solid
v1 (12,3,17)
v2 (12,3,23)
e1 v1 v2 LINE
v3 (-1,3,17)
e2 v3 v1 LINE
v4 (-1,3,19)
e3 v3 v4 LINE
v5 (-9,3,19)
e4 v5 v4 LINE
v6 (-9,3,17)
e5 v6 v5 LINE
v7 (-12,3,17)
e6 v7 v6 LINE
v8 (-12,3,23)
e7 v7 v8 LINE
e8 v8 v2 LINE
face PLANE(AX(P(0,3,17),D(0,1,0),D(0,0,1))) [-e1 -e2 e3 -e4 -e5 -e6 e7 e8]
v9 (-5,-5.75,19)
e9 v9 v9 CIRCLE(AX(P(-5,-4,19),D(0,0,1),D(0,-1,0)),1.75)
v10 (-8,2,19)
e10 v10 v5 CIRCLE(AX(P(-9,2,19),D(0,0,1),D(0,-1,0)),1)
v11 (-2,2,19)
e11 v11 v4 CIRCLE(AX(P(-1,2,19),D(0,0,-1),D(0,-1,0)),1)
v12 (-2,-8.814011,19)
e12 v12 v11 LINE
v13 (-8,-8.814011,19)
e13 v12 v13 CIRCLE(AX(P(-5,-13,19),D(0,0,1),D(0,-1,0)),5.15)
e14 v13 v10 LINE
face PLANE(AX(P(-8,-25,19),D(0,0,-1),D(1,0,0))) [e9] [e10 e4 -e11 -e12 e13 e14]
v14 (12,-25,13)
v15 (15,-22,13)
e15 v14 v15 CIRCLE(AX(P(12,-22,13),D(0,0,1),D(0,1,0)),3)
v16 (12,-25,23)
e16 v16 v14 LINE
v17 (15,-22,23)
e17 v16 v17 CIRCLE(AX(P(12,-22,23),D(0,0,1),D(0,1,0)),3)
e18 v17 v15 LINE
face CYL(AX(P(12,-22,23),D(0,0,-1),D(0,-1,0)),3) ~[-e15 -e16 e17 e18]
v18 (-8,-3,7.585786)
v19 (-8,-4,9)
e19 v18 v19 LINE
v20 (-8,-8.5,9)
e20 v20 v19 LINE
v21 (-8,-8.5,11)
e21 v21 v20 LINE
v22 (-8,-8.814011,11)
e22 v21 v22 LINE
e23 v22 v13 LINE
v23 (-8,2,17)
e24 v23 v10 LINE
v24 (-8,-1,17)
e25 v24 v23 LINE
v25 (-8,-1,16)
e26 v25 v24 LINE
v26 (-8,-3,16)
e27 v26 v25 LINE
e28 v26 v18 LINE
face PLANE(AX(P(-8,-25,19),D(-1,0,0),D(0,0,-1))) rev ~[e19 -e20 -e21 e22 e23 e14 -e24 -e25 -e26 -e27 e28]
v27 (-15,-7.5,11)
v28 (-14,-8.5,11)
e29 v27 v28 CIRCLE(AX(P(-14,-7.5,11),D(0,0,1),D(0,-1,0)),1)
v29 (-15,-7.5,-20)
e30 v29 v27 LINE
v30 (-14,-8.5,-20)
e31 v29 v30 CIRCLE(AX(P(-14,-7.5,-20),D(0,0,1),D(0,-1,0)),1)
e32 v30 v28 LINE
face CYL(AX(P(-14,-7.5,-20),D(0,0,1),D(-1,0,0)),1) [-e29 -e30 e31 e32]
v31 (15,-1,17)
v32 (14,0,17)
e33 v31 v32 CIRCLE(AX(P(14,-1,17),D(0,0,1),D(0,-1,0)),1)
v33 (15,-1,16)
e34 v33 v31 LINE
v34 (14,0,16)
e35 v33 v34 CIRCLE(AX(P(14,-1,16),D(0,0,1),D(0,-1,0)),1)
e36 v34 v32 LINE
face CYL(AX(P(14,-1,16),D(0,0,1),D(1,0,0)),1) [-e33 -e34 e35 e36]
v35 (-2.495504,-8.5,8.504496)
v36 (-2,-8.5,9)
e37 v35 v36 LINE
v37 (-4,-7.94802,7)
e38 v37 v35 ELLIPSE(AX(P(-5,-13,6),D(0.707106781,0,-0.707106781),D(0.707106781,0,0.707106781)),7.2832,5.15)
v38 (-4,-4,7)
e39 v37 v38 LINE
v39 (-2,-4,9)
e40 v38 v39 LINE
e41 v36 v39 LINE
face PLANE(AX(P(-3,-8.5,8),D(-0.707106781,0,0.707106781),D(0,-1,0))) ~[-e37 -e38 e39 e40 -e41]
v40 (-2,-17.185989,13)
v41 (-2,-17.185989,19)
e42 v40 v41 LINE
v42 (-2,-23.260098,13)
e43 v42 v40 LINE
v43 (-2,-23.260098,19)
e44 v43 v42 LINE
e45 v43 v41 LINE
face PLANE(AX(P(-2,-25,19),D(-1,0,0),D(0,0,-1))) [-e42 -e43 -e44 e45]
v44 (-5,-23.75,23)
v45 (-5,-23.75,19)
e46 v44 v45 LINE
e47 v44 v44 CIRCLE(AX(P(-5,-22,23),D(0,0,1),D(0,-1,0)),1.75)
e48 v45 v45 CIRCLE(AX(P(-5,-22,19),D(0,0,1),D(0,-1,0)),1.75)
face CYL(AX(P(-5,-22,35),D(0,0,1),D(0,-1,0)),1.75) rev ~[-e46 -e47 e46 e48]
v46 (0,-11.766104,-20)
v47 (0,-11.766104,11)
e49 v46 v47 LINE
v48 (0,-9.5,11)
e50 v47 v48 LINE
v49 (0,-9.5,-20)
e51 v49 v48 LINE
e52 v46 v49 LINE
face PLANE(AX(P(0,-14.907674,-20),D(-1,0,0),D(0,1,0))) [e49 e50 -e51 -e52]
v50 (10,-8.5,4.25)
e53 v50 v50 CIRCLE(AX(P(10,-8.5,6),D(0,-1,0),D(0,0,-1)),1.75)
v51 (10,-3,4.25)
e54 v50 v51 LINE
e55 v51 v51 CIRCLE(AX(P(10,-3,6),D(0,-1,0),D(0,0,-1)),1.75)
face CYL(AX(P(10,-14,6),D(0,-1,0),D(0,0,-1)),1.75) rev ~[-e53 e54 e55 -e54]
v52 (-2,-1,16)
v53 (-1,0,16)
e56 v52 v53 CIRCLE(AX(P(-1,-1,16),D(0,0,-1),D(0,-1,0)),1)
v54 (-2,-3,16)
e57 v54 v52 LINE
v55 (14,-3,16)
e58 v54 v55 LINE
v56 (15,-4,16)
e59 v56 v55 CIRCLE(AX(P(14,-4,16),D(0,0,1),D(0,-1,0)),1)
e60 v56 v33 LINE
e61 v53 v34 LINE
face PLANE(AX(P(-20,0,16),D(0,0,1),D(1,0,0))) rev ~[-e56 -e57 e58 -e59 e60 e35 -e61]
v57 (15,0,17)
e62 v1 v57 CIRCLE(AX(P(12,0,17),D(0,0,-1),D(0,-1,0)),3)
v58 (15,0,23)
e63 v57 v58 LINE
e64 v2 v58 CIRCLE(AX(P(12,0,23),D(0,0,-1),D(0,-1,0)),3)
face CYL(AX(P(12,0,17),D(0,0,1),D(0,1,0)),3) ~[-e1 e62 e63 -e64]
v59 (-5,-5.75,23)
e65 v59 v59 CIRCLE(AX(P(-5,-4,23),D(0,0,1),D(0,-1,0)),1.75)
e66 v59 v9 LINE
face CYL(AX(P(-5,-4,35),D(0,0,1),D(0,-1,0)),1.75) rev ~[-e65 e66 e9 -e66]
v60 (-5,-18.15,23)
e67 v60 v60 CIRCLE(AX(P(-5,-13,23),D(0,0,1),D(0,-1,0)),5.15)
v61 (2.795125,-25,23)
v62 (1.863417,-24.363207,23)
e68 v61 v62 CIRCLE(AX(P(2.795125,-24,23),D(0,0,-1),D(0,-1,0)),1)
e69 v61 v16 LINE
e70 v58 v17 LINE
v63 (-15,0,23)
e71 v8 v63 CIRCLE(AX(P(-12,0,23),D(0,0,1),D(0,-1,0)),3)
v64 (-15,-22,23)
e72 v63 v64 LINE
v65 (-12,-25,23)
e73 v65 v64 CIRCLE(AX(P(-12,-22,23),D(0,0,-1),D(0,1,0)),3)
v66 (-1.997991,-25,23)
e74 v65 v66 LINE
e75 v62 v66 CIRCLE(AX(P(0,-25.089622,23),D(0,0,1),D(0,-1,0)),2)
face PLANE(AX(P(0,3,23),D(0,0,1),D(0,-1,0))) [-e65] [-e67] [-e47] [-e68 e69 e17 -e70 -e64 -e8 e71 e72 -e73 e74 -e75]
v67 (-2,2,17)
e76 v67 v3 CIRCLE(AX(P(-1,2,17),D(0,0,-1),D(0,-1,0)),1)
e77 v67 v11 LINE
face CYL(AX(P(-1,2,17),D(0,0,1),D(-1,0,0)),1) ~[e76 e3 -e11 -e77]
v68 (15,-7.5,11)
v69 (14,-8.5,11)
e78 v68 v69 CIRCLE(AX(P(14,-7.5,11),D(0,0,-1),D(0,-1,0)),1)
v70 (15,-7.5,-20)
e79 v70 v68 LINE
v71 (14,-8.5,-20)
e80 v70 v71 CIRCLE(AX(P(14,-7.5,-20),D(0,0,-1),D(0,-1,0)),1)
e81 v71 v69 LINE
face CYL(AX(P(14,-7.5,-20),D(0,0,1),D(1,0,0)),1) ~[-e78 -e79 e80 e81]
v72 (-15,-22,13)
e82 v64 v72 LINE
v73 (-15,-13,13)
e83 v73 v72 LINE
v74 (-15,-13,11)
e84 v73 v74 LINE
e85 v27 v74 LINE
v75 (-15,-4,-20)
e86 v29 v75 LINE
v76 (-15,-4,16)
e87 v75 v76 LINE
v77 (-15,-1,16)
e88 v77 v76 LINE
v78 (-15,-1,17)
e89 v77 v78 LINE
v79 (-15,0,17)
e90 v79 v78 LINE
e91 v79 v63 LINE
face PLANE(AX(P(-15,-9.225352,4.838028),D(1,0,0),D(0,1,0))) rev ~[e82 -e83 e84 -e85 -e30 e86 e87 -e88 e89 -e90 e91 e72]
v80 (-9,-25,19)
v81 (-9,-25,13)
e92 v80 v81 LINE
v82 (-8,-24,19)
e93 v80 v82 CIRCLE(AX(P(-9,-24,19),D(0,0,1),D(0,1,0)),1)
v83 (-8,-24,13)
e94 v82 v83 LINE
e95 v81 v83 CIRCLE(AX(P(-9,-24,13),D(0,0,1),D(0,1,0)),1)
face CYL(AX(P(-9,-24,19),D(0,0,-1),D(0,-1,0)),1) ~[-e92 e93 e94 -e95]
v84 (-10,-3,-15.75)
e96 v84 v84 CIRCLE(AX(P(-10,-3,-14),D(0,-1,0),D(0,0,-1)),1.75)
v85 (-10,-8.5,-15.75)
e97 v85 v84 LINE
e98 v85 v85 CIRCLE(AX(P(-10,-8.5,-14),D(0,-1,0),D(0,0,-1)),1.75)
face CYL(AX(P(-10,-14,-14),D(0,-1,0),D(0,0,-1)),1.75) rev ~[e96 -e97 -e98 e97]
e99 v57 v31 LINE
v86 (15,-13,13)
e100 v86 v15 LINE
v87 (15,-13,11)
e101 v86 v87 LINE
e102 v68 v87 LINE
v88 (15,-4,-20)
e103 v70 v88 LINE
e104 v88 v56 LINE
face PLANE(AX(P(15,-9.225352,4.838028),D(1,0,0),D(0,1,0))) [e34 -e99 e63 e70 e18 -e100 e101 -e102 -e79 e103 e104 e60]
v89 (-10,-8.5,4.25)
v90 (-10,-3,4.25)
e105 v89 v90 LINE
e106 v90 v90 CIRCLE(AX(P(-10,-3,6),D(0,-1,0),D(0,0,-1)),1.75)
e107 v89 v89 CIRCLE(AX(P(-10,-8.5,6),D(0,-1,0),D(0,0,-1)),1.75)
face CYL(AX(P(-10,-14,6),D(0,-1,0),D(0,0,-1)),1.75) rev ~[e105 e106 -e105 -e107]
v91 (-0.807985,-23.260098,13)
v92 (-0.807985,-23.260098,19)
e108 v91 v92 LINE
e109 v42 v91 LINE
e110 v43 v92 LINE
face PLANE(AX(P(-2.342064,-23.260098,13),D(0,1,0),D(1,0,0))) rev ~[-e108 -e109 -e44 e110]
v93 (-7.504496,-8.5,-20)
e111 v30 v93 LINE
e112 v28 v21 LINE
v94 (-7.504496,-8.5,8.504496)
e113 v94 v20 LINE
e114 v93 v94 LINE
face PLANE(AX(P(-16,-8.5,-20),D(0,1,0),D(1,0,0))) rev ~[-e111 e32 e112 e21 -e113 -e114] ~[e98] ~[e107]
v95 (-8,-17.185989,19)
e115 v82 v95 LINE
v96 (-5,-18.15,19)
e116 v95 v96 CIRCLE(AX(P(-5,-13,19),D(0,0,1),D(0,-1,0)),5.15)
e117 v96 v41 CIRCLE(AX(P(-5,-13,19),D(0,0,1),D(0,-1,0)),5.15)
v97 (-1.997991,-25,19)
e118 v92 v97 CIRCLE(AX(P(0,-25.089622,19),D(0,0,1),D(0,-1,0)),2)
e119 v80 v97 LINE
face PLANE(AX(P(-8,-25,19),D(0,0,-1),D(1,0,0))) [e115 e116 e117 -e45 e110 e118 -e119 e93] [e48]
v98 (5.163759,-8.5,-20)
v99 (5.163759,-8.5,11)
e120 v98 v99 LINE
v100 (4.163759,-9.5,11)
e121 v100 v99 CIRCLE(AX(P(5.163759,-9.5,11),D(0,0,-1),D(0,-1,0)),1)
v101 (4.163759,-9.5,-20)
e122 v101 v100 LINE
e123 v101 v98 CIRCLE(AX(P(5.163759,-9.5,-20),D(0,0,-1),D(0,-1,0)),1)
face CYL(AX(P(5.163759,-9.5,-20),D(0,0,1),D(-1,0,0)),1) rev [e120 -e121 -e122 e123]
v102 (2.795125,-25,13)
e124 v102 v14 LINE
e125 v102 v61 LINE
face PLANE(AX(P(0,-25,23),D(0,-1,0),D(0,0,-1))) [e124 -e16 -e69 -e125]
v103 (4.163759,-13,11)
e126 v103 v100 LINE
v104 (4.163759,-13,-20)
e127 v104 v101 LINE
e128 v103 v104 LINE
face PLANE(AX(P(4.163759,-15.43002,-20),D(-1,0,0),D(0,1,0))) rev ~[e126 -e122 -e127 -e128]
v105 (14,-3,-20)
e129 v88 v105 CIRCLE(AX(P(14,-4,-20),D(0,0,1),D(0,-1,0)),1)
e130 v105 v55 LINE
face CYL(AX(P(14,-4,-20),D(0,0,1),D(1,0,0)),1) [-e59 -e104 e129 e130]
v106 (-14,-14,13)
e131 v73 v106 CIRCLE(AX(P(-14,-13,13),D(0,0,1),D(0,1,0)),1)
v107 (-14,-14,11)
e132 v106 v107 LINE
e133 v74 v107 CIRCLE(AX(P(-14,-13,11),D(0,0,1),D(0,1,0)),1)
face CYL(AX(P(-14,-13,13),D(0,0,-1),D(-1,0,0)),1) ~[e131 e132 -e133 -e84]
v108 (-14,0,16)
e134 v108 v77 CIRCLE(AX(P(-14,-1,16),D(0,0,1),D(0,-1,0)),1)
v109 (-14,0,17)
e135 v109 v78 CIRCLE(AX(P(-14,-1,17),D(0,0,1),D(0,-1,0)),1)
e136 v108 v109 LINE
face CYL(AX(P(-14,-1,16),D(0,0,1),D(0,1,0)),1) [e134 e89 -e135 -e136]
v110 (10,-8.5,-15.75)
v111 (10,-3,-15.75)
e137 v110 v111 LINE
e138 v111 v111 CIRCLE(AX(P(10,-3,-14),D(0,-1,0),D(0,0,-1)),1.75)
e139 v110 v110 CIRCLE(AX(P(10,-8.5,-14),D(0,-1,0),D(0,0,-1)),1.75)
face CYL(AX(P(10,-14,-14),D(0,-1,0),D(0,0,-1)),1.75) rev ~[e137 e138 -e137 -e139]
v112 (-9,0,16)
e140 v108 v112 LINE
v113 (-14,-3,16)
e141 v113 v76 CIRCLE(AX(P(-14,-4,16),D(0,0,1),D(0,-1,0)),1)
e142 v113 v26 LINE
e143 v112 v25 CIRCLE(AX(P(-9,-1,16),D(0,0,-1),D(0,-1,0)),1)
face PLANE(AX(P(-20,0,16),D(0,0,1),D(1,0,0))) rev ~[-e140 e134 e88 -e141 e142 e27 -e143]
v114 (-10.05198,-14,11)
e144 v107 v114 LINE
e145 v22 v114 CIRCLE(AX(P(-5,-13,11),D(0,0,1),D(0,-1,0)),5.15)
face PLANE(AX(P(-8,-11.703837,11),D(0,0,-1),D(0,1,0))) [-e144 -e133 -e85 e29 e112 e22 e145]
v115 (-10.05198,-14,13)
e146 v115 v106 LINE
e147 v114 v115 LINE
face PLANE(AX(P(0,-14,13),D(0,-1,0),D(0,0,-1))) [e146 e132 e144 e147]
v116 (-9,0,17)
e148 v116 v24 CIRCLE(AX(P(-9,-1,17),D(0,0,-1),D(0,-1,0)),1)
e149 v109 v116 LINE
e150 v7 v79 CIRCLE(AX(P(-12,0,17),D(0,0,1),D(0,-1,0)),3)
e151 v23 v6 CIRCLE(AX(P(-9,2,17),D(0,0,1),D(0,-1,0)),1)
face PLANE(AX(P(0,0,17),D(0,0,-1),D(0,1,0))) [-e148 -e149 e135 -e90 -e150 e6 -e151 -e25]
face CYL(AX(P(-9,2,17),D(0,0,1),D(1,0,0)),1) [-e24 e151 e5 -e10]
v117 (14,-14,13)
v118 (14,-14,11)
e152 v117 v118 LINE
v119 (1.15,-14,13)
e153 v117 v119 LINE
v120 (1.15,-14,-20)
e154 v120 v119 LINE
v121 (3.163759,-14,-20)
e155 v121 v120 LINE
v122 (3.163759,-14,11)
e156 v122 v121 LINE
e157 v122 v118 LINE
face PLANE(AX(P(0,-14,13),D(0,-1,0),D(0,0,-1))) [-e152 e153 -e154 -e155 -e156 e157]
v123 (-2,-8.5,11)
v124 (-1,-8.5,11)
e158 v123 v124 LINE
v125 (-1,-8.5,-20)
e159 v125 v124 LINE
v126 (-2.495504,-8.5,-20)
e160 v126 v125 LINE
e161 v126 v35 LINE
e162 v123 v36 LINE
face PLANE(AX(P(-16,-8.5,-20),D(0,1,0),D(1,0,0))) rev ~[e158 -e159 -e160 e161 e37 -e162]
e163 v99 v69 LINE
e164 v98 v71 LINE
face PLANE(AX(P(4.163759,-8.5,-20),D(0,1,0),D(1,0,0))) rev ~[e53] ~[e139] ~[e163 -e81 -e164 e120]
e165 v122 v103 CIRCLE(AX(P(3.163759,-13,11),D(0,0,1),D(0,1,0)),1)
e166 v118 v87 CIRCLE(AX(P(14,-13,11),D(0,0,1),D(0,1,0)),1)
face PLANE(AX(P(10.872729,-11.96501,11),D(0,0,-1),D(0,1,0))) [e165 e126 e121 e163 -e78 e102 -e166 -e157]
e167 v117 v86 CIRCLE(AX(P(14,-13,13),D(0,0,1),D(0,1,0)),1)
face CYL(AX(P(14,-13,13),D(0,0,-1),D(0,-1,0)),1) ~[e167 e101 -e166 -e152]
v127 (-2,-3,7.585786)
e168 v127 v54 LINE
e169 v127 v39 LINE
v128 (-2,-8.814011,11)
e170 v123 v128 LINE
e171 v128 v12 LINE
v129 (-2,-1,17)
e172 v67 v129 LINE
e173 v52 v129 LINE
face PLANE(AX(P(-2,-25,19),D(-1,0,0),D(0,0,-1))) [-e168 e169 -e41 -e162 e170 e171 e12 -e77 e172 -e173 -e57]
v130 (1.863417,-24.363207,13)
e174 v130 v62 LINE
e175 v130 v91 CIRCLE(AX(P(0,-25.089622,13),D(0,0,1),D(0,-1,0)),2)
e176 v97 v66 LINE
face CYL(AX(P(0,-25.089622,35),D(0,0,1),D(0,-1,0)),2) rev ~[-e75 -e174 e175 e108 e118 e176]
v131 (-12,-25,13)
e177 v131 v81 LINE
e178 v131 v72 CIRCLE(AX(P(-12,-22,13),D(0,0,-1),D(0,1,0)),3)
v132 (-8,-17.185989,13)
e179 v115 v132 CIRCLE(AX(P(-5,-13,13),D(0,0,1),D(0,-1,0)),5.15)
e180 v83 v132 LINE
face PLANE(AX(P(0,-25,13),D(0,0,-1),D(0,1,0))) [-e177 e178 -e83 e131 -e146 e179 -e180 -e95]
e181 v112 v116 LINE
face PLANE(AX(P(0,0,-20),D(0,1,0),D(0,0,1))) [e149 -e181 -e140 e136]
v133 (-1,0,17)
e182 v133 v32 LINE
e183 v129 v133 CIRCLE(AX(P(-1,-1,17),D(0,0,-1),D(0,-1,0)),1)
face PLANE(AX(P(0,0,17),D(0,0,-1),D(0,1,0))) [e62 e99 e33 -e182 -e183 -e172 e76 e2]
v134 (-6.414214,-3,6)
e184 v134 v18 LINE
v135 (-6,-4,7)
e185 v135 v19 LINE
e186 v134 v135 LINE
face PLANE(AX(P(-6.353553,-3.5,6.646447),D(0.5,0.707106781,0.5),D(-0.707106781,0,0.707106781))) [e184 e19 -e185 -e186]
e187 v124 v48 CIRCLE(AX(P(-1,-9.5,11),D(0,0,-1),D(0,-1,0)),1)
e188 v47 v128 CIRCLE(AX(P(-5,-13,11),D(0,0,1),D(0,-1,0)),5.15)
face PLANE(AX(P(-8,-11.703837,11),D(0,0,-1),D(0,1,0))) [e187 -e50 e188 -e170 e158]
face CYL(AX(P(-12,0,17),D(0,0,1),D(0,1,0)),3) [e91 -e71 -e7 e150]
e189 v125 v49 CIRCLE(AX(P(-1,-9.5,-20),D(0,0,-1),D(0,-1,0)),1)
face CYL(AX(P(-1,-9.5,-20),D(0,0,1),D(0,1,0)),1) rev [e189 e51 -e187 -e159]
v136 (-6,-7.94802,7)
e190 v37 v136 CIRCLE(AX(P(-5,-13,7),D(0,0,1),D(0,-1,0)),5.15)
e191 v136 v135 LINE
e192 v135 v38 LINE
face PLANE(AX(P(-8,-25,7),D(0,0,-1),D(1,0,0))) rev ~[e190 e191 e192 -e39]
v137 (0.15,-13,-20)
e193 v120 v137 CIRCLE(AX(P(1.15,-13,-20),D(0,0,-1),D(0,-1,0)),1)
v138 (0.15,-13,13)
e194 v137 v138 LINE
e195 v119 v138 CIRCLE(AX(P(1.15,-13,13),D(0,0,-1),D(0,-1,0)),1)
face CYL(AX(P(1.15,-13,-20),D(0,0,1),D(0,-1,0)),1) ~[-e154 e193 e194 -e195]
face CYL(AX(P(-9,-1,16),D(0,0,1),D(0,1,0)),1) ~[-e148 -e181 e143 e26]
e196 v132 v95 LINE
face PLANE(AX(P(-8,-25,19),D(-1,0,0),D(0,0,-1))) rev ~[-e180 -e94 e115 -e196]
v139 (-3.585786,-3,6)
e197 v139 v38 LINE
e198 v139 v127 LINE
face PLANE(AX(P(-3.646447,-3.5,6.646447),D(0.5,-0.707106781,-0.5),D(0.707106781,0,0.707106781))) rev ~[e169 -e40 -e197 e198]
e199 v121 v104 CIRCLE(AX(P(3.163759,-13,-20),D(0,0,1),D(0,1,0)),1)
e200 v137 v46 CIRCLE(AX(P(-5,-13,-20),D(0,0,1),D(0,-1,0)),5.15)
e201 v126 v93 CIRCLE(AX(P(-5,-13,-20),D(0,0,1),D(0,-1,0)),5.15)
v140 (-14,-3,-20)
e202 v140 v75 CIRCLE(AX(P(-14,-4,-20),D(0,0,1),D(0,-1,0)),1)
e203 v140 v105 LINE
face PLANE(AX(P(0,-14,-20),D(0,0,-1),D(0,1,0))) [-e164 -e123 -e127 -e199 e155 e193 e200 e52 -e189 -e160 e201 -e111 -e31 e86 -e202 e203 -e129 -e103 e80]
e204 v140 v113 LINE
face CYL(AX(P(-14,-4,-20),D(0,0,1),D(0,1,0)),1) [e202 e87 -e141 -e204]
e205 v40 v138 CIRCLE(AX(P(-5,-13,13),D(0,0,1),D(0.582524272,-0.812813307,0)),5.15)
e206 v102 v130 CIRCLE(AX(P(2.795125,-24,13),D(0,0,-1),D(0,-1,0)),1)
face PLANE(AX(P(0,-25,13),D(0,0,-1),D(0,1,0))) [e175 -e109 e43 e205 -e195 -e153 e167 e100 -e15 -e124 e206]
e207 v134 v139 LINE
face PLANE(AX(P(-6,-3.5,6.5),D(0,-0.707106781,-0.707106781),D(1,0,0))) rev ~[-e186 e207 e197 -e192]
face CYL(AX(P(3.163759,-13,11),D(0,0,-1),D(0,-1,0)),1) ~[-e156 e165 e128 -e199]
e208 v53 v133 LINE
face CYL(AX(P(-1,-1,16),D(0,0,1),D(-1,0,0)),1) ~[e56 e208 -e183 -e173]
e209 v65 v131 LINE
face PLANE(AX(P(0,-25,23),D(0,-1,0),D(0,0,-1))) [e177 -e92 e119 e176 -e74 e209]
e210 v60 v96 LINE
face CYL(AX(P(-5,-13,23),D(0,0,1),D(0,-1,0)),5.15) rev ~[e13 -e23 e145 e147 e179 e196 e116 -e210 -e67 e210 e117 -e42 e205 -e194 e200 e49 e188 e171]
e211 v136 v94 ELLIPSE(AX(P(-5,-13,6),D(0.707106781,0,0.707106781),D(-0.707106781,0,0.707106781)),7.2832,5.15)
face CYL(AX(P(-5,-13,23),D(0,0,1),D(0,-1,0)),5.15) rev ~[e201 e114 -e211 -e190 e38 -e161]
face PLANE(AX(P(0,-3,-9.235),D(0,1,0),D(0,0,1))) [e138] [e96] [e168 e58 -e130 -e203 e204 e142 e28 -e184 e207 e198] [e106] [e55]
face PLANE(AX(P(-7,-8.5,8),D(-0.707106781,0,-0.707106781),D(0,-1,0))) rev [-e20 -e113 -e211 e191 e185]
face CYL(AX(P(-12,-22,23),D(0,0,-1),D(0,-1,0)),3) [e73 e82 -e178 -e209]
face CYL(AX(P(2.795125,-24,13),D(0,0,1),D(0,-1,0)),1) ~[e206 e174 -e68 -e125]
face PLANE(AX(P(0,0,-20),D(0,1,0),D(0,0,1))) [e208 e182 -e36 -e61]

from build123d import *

# Parameters (mm, degrees)
PAD001_DEPTH      = 15
PAD001_DEPTH_BACK = 15
SKETCH014_W       = 12
SKETCH014_H       = 6
POCKET_DEPTH      = 28.001
SKETCH013_R       = 1.75
POCKET001_DEPTH   = 21
SKETCH012_R       = 5.15
POCKET002_DEPTH   = 43.001
SKETCH007_R       = 1.75
POCKET003_DEPTH   = 17.001
SKETCH008_W       = 6.407674
SKETCH008_H       = 16
SKETCH008_W_2     = 6.93002
SKETCH008_H_2     = 13.41794
POCKET004_DEPTH   = 31
SKETCH018_R       = 2
POCKET005_DEPTH   = 55.001
SKETCH020_W       = 2.261289
SKETCH020_H       = 2.342064
POCKET006_DEPTH   = 6
SKETCH015_W       = 50.47
SKETCH015_H       = 40
POCKET007_DEPTH   = 3
CHAMFER_SIZE      = 2
CHAMFER001_SIZE   = 2
CHAMFER002_SIZE   = 1
FILLET_R          = 3
FILLET001_R       = 1
FILLET002_R       = 1
FILLET003_R       = 1
FILLET004_R       = 1
FILLET005_R       = 1
FILLET006_R       = 1
FILLET007_R       = 1
FILLET008_R       = 1
FILLET009_R       = 1
FILLET010_R       = 1
FILLET011_R       = 1
FILLET012_R       = 1
FILLET013_R       = 1


with BuildPart() as part:
    # Sketch005 → Pad001 (new body, two sides)
    with BuildSketch(Plane.YZ) as pad001_sk:
        Polygon((0, -20), (0, 17), (3, 17), (3, 23), (-25, 23), (-25, 13), (-14, 13), (-14, -20), align=None)
    extrude(amount=PAD001_DEPTH)
    extrude(pad001_sk.sketch, amount=-PAD001_DEPTH_BACK)

    # Sketch014 (on Face5 of Pad001) → Pocket (cut, through all)
    with BuildSketch(Plane(origin=(0, -25, 0), x_dir=(0, 0, -1), z_dir=(0, -1, 0))):
        with Locations((-13, -5)):
            Rectangle(SKETCH014_W, SKETCH014_H)
    extrude(amount=-POCKET_DEPTH, mode=Mode.SUBTRACT)

    # Sketch013 → Pocket001 (cut)
    with BuildSketch(Plane(origin=(0, 0, 35), x_dir=(0, -1, 0), z_dir=(0, 0, 1))):
        with Locations((4, -5)):
            Circle(SKETCH013_R)
        with Locations((22, -5)):
            Circle(SKETCH013_R)
    extrude(amount=-POCKET001_DEPTH, mode=Mode.SUBTRACT)

    # Sketch012 (on Face4 of Pad001) → Pocket002 (cut, through all)
    with BuildSketch(Plane(origin=(0, 0, 23), x_dir=(0, -1, 0), z_dir=(0, 0, 1))):
        with Locations((13, -5)):
            Circle(SKETCH012_R)
    extrude(amount=-POCKET002_DEPTH, mode=Mode.SUBTRACT)

    # Sketch007 → Pocket003 (cut, through all)
    with BuildSketch(Plane(origin=(0, -14, 0), x_dir=(0, 0, -1), z_dir=(0, -1, 0))):
        with Locations((-6, 10)):
            Circle(SKETCH007_R)
        with Locations((14, 10)):
            Circle(SKETCH007_R)
        with Locations((-6, -10)):
            Circle(SKETCH007_R)
        with Locations((14, -10)):
            Circle(SKETCH007_R)
    extrude(amount=-POCKET003_DEPTH, mode=Mode.SUBTRACT)

    # Sketch008 → Pocket004 (cut)
    with BuildSketch(Plane.YX.offset(20)):
        with Locations((-11.703837, -8)):
            Rectangle(SKETCH008_W, SKETCH008_H)
        with Locations((-11.96501, 10.872729)):
            Rectangle(SKETCH008_W_2, SKETCH008_H_2)
    extrude(amount=-POCKET004_DEPTH, mode=Mode.SUBTRACT)

    # Sketch018 → Pocket005 (cut, through all)
    with BuildSketch(Plane(origin=(0, 0, 35), x_dir=(0, -1, 0), z_dir=(0, 0, 1))):
        with Locations((25.089622, 0)):
            Circle(SKETCH018_R)
    extrude(amount=-POCKET005_DEPTH, mode=Mode.SUBTRACT)

    # Sketch020 (on Face29 of Pocket005) → Pocket006 (cut)
    with BuildSketch(Plane.YX.offset(-13)):
        with Locations((-24.390742, -1.171032)):
            Rectangle(SKETCH020_W, SKETCH020_H)
    extrude(amount=-POCKET006_DEPTH, mode=Mode.SUBTRACT)

    # Sketch015 → Pocket007 (cut)
    with BuildSketch(Plane.ZX):
        with Locations((-9.235, 0)):
            Rectangle(SKETCH015_W, SKETCH015_H)
    extrude(amount=-POCKET007_DEPTH, mode=Mode.SUBTRACT)

    # Chamfer
    chamfer_edges = [part.edges().sort_by_distance(p)[0] for p in [
        (-8, -5.75, 7),
    ]]
    chamfer(chamfer_edges, length=CHAMFER_SIZE)

    # Chamfer001
    chamfer001_edges = [part.edges().sort_by_distance(p)[0] for p in [
        (-2, -5.75, 7),
    ]]
    chamfer(chamfer001_edges, length=CHAMFER001_SIZE)

    # Chamfer002
    chamfer002_edges = [part.edges().sort_by_distance(p)[0] for p in [
        (-3, -3, 8),
        (-5, -3, 7),
        (-7, -3, 8),
    ]]
    chamfer(chamfer002_edges, length=CHAMFER002_SIZE)

    # Fillet
    fillet_edges = [part.edges().sort_by_distance(p)[0] for p in [
        (-15, -25, 18),
        (15, -25, 18),
        (-15, 3, 20),
        (15, 3, 20),
    ]]
    fillet(fillet_edges, radius=FILLET_R)

    # Fillet001
    fillet001_edges = [part.edges().sort_by_distance(p)[0] for p in [
        (-15, -8.5, -4.5),
        (4.163759, -14, -4.5),
    ]]
    fillet(fillet001_edges, radius=FILLET001_R)

    # Fillet002
    fillet002_edges = [part.edges().sort_by_distance(p)[0] for p in [
        (0.05198, -14, -3.5),
    ]]
    fillet(fillet002_edges, radius=FILLET002_R)

    # Fillet003
    fillet003_edges = [part.edges().sort_by_distance(p)[0] for p in [
        (15, -14, 12),
        (15, -8.5, -4.5),
    ]]
    fillet(fillet003_edges, radius=FILLET003_R)

    # Fillet004
    fillet004_edges = [part.edges().sort_by_distance(p)[0] for p in [
        (-8, -25, 16),
    ]]
    fillet(fillet004_edges, radius=FILLET004_R)

    # Fillet005
    fillet005_edges = [part.edges().sort_by_distance(p)[0] for p in [
        (-15, -14, 12),
    ]]
    fillet(fillet005_edges, radius=FILLET005_R)

    # Fillet006
    fillet006_edges = [part.edges().sort_by_distance(p)[0] for p in [
        (0, -8.5, -4.5),
    ]]
    fillet(fillet006_edges, radius=FILLET006_R)

    # Fillet007
    fillet007_edges = [part.edges().sort_by_distance(p)[0] for p in [
        (4.163759, -8.5, -4.5),
    ]]
    fillet(fillet007_edges, radius=FILLET007_R)

    # Fillet008
    fillet008_edges = [part.edges().sort_by_distance(p)[0] for p in [
        (-15, -3, -2),
        (15, -3, -2),
    ]]
    fillet(fillet008_edges, radius=FILLET008_R)

    # Fillet009
    fillet009_edges = [part.edges().sort_by_distance(p)[0] for p in [
        (-8, 3, 18),
        (-2, 3, 18),
    ]]
    fillet(fillet009_edges, radius=FILLET009_R)

    # Fillet010
    fillet010_edges = [part.edges().sort_by_distance(p)[0] for p in [
        (-2, 0, 16.5),
        (-8, 0, 16.5),
    ]]
    fillet(fillet010_edges, radius=FILLET010_R)

    # Fillet011
    fillet011_edges = [part.edges().sort_by_distance(p)[0] for p in [
        (-15, 0, 16.5),
    ]]
    fillet(fillet011_edges, radius=FILLET011_R)

    # Fillet012
    fillet012_edges = [part.edges().sort_by_distance(p)[0] for p in [
        (15, 0, 16.5),
    ]]
    fillet(fillet012_edges, radius=FILLET012_R)

    # Fillet013
    fillet013_edges = [part.edges().sort_by_distance(p)[0] for p in [
        (1.997991, -25, 18),
    ]]
    fillet(fillet013_edges, radius=FILLET013_R)


solid = part.part
